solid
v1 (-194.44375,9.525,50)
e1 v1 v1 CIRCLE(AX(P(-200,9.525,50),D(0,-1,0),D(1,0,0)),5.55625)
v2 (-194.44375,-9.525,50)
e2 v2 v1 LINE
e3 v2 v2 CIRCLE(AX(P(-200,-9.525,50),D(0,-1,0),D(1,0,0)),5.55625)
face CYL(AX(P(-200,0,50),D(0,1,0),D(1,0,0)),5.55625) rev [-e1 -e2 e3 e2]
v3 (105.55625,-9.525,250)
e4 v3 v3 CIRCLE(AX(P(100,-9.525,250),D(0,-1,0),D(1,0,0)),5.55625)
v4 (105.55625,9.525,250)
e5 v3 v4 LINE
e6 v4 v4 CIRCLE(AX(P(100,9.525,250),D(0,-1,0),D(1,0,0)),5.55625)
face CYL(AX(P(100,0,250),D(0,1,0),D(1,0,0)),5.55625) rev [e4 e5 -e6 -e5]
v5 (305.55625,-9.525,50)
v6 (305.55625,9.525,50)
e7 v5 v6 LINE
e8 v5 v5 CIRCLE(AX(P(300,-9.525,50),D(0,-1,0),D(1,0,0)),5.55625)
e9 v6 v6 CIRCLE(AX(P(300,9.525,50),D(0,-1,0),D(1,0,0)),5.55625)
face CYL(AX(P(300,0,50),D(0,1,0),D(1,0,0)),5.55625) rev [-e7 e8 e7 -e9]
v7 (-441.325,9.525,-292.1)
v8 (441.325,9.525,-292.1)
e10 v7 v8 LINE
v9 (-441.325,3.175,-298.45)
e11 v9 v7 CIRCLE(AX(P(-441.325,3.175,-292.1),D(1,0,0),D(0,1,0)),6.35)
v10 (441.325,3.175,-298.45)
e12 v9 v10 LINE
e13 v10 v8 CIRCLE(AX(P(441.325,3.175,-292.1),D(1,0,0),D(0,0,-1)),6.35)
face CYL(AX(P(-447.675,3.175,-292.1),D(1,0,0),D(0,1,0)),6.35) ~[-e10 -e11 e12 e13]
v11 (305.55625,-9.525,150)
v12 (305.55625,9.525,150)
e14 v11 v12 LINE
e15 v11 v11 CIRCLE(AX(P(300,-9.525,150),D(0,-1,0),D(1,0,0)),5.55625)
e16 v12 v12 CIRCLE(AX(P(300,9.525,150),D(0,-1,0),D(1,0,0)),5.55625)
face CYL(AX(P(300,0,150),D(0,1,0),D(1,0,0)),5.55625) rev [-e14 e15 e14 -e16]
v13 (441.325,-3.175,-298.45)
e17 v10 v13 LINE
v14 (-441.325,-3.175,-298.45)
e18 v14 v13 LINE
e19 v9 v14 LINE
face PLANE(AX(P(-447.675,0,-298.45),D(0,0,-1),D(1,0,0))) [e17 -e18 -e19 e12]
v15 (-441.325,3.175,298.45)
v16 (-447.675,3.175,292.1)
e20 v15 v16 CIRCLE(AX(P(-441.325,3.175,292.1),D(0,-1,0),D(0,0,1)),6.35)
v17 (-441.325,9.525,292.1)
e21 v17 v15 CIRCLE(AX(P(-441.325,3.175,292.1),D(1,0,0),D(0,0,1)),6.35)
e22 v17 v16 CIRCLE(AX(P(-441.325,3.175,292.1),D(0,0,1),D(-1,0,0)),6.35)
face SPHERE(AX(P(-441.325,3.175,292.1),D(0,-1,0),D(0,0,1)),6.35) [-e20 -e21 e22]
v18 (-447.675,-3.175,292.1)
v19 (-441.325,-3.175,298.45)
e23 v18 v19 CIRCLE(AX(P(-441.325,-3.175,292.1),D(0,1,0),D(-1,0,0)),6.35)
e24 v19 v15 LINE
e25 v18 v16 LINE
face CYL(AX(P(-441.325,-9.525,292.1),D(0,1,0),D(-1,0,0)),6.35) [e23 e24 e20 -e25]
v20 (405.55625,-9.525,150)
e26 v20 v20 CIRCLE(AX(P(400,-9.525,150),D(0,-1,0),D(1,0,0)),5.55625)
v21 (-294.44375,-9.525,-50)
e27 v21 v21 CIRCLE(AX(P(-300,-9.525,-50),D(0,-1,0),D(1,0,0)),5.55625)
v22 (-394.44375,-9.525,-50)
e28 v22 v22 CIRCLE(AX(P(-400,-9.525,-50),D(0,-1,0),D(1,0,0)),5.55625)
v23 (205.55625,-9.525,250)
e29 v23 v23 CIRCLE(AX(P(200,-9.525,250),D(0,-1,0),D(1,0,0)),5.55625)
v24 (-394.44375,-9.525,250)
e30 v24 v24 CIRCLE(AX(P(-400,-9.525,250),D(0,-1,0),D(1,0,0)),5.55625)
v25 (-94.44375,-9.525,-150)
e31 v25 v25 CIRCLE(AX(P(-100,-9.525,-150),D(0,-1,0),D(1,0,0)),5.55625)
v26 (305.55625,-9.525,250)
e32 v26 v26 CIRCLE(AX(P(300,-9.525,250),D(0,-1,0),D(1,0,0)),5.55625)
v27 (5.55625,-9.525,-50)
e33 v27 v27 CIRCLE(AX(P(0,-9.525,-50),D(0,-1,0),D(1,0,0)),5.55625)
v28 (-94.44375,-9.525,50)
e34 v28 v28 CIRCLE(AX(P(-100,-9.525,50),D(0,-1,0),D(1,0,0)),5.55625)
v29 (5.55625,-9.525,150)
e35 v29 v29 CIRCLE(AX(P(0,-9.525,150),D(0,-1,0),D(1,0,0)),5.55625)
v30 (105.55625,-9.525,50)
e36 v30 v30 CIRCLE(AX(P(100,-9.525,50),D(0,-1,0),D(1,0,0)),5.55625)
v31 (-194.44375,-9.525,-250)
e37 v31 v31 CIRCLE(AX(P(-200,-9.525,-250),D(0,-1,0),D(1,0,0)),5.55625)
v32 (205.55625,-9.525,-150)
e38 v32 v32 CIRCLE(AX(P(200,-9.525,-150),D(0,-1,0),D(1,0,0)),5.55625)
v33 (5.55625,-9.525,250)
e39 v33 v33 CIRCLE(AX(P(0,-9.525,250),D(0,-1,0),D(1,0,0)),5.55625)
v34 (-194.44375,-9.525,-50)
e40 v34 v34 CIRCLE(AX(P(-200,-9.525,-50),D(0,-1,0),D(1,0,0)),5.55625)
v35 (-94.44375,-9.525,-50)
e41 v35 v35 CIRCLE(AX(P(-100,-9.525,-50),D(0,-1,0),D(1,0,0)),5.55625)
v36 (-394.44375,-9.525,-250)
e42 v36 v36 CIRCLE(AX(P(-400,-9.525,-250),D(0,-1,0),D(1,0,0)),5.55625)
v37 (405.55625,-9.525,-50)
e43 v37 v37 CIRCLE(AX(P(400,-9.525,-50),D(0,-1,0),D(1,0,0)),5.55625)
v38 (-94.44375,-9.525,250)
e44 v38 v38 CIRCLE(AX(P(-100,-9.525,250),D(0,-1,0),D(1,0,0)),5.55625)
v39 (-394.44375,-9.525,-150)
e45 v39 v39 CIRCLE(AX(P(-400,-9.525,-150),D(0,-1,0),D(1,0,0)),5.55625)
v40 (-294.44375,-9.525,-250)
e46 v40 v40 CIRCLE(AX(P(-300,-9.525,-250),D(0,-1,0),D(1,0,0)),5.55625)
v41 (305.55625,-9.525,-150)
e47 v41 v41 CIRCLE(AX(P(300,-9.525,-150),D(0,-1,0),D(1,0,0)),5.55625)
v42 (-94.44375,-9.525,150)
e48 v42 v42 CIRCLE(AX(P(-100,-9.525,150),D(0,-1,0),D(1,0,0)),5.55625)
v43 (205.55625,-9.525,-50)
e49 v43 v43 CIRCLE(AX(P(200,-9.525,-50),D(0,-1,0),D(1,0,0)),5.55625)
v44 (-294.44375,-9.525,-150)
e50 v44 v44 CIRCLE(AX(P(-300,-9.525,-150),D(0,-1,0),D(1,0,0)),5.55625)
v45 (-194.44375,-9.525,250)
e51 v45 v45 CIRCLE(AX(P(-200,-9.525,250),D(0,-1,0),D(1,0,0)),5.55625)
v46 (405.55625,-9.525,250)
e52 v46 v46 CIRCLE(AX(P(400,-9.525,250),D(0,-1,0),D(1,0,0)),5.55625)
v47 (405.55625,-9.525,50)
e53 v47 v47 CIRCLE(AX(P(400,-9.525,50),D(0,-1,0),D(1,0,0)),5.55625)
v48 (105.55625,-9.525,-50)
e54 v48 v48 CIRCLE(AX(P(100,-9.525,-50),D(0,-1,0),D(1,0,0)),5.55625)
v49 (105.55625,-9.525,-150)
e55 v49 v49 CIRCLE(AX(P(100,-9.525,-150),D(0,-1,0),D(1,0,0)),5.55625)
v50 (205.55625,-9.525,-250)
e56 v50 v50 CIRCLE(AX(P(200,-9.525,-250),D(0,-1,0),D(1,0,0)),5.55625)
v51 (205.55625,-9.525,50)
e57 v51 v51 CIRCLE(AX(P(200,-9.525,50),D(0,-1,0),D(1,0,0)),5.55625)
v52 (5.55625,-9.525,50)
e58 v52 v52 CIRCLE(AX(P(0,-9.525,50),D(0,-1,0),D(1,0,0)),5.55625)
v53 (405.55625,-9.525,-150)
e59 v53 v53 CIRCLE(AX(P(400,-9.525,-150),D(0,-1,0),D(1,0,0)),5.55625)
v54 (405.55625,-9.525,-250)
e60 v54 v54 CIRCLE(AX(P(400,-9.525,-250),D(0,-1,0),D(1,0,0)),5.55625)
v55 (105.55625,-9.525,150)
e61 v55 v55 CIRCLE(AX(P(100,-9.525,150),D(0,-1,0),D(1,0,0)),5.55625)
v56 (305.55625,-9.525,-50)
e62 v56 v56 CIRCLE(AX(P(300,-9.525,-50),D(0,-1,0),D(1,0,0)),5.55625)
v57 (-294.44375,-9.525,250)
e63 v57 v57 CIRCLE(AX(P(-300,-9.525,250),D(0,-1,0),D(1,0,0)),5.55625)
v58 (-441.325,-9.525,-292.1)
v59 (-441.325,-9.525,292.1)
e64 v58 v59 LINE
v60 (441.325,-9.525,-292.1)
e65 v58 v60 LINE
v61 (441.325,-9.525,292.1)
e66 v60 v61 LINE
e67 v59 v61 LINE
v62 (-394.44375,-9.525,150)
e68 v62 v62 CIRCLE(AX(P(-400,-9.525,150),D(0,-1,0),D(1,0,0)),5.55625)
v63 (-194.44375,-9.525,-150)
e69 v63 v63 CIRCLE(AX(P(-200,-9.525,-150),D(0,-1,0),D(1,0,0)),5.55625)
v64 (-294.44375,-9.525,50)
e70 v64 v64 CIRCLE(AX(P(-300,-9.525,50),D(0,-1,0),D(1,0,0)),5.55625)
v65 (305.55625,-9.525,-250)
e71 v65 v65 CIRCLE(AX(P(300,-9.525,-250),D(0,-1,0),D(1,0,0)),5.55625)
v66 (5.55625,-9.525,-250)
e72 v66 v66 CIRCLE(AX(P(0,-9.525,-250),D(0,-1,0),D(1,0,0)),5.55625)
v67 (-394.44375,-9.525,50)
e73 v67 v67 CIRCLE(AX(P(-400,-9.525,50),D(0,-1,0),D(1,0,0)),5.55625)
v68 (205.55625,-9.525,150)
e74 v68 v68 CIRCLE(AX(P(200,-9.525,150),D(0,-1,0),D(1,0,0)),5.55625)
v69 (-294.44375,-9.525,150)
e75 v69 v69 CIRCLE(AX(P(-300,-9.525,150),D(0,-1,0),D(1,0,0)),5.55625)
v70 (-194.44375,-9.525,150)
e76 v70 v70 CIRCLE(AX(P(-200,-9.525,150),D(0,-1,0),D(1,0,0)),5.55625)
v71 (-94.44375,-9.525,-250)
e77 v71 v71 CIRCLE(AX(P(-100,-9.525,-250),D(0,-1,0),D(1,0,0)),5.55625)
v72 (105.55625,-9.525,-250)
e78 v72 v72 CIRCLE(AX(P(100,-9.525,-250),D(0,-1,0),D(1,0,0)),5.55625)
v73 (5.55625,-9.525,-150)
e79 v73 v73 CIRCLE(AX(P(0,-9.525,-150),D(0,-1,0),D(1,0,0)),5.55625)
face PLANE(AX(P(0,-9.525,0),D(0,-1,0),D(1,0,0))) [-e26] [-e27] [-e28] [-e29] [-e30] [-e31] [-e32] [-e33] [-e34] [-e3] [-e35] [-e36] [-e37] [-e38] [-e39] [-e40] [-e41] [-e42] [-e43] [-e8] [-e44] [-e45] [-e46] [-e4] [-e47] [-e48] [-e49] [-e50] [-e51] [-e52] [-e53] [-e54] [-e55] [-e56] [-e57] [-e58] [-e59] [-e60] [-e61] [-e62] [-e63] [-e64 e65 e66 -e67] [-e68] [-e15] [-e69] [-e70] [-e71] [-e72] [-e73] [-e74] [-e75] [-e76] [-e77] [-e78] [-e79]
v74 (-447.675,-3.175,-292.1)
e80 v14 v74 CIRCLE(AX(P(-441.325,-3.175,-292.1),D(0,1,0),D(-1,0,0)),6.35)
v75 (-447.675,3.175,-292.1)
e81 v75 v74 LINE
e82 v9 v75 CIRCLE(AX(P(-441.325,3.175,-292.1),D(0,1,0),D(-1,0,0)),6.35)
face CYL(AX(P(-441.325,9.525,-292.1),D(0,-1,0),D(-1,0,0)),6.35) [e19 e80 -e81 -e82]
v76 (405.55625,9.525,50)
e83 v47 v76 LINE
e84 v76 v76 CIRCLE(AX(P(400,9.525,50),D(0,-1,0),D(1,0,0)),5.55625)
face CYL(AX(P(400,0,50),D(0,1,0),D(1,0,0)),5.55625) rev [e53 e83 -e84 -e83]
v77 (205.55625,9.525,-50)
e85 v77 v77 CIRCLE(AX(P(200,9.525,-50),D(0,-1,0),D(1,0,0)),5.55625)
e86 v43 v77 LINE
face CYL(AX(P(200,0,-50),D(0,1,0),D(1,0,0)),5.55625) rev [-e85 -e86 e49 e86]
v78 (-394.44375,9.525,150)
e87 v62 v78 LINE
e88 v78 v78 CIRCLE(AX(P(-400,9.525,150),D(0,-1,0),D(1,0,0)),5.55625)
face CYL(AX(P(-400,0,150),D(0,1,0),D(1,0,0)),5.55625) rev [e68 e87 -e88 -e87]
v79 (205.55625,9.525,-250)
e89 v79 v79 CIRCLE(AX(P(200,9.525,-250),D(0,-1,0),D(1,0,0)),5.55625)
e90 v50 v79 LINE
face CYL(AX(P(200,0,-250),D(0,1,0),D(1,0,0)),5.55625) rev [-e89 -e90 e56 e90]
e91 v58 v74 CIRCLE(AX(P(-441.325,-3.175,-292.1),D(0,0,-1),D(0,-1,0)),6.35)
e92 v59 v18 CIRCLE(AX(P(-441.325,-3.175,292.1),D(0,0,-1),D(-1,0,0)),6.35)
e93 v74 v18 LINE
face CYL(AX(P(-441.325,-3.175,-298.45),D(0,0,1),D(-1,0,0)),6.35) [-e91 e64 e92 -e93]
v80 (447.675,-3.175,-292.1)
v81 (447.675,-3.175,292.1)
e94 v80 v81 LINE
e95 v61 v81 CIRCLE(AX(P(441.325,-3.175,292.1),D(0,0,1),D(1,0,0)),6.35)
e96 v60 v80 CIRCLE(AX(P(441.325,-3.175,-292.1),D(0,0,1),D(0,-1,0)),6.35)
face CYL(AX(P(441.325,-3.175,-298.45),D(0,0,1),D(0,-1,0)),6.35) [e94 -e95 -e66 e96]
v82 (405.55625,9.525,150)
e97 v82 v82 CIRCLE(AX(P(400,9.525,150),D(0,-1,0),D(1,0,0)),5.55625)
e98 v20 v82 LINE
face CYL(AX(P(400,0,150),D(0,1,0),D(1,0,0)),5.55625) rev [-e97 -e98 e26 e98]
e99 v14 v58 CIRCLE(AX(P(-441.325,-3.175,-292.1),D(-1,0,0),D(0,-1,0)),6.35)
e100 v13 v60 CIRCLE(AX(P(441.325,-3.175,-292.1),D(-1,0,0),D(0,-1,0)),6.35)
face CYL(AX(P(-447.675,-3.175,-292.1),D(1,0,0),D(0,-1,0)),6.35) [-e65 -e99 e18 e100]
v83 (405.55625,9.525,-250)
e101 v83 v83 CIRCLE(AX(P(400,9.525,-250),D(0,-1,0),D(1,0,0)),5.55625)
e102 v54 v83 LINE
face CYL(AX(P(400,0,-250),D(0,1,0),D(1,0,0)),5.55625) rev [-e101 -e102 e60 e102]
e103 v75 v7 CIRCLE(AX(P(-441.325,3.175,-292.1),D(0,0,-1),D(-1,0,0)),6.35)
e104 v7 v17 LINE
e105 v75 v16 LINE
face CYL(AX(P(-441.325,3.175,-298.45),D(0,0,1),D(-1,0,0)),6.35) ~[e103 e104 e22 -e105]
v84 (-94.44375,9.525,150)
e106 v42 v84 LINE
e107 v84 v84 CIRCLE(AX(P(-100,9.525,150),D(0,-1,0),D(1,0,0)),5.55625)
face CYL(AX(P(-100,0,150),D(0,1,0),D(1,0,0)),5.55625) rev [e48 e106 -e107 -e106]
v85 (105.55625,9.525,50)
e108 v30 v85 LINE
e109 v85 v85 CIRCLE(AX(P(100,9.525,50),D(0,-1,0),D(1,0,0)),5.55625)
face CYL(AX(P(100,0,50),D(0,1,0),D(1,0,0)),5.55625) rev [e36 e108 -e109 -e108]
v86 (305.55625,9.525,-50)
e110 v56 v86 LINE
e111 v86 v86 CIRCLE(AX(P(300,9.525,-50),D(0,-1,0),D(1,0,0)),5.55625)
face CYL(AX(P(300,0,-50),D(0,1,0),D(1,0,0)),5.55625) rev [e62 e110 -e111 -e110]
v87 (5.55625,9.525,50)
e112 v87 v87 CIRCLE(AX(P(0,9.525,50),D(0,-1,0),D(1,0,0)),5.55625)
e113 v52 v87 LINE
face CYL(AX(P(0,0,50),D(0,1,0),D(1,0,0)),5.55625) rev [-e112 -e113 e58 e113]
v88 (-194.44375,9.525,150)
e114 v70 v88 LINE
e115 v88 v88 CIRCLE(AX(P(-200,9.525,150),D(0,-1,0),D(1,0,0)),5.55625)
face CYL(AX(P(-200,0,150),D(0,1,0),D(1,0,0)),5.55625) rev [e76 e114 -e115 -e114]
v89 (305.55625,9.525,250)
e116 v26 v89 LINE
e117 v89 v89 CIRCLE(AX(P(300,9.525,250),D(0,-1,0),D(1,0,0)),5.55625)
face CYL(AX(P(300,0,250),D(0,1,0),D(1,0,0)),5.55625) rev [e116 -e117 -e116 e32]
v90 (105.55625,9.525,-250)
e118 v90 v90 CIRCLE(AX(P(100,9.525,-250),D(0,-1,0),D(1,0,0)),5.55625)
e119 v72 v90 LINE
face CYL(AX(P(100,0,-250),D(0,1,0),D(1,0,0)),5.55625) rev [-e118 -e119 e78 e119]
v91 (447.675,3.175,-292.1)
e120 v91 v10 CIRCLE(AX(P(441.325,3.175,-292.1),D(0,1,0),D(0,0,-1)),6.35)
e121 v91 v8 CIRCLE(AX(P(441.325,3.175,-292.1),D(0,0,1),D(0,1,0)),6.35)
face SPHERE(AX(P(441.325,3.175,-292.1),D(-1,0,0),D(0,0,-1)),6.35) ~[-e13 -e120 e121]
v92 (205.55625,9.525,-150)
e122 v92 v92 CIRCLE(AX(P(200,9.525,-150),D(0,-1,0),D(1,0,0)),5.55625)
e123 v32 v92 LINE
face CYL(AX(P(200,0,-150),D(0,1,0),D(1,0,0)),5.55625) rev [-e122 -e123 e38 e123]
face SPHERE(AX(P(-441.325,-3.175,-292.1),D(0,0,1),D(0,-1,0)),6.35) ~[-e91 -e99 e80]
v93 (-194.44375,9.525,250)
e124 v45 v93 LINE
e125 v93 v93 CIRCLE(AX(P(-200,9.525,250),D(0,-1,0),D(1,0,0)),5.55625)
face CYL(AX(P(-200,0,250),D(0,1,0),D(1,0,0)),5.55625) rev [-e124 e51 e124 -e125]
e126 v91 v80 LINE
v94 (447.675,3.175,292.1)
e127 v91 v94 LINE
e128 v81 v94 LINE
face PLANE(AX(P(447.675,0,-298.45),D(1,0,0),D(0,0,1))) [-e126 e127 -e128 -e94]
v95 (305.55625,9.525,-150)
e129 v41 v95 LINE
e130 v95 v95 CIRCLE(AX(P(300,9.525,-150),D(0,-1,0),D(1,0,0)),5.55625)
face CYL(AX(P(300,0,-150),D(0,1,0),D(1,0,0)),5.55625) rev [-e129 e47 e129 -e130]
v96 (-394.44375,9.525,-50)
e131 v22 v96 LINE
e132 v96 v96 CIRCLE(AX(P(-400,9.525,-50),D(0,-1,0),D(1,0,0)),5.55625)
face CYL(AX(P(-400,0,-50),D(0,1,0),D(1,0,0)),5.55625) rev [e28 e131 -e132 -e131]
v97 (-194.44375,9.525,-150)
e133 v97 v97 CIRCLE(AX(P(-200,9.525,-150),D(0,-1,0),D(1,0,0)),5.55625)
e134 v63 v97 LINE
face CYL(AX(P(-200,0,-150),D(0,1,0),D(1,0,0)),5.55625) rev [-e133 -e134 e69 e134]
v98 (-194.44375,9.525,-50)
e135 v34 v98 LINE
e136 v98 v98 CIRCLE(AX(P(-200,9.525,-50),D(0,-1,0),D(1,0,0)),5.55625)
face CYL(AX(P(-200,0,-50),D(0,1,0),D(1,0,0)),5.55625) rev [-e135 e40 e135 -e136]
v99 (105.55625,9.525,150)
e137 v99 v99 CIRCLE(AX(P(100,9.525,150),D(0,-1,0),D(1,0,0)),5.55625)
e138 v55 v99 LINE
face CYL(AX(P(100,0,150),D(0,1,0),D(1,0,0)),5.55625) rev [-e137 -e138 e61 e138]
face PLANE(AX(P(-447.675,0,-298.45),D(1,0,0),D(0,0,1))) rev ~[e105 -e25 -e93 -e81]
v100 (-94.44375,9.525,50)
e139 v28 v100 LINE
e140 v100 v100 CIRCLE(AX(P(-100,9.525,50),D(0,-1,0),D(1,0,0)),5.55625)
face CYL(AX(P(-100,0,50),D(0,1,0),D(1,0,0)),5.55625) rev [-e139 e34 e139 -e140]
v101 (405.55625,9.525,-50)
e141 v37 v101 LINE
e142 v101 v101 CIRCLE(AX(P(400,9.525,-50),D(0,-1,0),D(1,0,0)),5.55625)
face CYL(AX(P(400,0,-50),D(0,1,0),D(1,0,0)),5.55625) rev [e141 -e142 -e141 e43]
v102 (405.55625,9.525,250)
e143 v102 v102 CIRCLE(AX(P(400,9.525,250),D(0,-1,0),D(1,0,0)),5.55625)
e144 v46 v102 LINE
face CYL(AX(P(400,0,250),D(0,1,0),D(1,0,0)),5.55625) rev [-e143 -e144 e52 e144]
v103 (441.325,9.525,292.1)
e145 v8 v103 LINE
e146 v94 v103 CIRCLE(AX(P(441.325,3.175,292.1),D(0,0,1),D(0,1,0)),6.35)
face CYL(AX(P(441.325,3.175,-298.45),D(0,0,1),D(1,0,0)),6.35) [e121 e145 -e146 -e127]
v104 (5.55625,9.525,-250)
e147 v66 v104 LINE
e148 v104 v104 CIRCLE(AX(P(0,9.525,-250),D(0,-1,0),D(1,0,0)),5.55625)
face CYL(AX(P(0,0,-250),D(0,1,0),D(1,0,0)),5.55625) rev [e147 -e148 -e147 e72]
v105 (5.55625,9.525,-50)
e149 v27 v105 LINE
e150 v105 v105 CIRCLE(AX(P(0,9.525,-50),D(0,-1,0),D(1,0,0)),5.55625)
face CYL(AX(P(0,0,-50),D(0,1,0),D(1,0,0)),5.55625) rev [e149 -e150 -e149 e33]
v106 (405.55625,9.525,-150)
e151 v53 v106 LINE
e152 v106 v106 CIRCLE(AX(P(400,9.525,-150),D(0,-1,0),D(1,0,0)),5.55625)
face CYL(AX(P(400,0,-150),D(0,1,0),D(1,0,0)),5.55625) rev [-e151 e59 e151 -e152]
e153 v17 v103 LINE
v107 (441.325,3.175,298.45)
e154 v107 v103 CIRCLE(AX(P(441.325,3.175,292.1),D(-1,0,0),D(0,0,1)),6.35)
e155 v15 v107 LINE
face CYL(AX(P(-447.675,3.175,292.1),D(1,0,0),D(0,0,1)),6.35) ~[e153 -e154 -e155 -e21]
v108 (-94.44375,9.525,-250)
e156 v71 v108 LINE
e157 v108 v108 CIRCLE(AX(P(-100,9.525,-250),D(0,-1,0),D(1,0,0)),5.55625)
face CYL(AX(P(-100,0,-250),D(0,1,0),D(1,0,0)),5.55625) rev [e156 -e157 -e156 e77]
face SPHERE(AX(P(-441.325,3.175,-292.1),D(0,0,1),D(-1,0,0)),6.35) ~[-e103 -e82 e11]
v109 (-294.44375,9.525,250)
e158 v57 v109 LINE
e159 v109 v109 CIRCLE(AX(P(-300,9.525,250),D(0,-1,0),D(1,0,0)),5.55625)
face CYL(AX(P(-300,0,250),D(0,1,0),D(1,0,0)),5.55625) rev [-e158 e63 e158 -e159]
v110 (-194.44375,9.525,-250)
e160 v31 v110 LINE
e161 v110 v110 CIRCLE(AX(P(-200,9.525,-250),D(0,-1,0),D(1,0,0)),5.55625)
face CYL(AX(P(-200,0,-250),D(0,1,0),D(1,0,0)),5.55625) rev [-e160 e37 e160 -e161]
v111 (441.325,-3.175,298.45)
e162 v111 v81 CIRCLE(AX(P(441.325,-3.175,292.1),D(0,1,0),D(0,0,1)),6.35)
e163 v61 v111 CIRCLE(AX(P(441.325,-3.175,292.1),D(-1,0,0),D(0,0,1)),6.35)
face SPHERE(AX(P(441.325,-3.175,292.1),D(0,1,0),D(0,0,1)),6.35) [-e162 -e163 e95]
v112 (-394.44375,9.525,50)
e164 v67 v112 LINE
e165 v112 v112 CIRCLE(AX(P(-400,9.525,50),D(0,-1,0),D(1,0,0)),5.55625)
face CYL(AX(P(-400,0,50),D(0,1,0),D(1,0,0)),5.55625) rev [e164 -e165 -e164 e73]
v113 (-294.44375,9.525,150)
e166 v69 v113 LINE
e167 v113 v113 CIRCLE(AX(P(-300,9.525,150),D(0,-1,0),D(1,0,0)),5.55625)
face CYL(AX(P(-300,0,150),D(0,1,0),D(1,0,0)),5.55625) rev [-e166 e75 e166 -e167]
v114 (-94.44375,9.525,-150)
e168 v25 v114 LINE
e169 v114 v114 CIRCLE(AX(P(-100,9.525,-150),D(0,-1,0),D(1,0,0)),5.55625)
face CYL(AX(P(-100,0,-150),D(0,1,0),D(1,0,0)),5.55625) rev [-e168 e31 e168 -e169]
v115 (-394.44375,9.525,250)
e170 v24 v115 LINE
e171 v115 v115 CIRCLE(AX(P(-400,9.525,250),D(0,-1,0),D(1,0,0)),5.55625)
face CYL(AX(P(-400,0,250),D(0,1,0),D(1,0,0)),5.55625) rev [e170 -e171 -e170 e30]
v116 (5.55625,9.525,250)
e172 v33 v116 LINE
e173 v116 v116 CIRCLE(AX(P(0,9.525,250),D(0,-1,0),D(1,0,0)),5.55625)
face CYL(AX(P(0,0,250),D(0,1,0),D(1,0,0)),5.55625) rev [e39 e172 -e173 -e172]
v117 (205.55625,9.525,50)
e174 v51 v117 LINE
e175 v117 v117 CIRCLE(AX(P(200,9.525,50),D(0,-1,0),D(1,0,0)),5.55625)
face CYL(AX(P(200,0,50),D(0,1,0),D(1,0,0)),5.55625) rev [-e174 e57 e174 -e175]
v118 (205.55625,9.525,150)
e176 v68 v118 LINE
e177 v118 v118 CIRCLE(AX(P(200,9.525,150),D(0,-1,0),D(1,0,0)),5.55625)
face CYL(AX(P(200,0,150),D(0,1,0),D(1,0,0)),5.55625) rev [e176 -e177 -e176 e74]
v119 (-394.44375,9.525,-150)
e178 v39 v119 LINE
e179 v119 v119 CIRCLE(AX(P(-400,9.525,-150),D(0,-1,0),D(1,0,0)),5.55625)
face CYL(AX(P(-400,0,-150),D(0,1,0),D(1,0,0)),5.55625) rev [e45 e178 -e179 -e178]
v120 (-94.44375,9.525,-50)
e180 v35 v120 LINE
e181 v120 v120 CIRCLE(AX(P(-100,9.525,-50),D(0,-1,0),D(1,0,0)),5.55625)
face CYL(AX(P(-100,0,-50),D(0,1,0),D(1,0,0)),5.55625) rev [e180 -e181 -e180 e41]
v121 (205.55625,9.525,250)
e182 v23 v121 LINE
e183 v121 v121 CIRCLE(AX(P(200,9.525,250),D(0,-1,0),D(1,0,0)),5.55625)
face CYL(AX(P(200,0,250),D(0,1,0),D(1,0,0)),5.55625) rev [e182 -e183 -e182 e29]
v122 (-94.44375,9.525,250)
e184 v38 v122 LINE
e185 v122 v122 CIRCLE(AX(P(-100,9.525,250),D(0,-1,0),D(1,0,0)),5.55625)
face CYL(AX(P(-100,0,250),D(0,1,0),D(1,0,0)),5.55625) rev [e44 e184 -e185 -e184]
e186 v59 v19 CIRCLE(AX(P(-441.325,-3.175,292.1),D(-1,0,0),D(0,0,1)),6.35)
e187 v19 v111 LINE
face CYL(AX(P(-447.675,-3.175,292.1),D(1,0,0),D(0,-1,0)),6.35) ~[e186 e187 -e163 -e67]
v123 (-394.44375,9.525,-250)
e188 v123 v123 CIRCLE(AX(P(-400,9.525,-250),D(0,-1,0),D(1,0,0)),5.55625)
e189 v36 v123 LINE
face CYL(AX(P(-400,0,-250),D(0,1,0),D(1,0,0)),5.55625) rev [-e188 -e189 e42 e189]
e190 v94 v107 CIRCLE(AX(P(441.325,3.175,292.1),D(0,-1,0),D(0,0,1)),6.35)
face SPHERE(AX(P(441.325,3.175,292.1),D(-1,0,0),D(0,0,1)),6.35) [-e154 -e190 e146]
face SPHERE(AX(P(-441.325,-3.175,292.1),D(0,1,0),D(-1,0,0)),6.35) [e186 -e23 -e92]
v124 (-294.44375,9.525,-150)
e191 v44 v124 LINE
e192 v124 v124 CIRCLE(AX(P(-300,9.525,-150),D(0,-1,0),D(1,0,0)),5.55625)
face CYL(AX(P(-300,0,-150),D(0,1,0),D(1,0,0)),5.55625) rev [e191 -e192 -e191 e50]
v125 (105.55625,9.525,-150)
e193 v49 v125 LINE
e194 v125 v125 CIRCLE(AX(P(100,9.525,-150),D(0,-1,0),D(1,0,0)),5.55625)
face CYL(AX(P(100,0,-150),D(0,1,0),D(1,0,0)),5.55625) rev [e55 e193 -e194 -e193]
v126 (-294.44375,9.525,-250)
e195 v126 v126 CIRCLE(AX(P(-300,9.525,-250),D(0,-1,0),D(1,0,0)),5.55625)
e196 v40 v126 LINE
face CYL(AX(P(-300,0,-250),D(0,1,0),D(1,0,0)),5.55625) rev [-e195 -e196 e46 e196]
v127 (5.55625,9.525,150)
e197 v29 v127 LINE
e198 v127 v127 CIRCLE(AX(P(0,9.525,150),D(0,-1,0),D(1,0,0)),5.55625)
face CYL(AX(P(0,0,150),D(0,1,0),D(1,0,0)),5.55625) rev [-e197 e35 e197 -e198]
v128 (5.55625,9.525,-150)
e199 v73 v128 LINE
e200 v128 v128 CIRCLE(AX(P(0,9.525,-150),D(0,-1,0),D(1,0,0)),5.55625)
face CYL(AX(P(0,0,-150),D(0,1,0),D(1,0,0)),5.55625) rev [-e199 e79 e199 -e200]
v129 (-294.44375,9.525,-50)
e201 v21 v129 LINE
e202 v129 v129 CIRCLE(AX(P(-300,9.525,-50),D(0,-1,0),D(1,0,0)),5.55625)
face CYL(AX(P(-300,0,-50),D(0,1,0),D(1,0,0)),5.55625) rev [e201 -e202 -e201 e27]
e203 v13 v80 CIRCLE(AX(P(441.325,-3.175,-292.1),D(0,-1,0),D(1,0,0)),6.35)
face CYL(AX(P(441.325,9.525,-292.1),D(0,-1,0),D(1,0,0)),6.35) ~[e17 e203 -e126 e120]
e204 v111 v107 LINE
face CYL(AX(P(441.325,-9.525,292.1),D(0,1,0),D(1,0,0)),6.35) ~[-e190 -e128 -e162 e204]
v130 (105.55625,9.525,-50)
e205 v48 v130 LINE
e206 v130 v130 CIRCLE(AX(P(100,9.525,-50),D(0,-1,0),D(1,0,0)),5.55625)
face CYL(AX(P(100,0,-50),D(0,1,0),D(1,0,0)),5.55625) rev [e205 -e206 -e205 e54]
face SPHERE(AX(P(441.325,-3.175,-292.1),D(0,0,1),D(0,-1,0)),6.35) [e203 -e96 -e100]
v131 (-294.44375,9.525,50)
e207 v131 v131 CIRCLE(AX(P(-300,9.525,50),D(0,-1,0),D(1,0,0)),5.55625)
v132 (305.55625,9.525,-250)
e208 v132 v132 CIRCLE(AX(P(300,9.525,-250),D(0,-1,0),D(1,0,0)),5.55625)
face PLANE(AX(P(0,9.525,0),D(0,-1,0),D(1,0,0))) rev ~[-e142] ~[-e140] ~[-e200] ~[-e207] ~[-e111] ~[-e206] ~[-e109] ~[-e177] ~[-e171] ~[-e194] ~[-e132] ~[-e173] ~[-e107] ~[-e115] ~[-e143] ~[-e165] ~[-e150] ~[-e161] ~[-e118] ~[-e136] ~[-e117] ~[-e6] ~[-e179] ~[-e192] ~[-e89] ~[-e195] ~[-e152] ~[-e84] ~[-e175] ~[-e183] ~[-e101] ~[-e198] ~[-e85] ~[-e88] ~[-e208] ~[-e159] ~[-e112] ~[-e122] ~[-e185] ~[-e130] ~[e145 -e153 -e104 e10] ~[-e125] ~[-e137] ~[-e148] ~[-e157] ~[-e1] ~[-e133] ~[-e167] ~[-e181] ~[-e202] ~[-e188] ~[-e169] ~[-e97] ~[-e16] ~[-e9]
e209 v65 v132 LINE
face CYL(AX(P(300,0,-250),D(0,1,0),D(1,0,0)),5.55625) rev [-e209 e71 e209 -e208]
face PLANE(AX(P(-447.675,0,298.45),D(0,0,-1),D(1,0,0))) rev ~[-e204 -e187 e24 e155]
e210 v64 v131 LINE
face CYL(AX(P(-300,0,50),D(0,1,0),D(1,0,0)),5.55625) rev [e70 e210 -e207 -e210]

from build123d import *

# Parameters (mm, degrees)
F0_W     = 895.35
F0_H     = 596.9
F0_R     = 5.55625
F1_DEPTH = 9.525
F2_R     = 6.35


with BuildPart() as f1:
    # F0 (on Front) → F1 (new body, symmetric)
    with BuildSketch(Plane.XZ):
        Rectangle(F0_W, F0_H)
        with Locations((-400, -250)):
            Circle(F0_R, mode=Mode.SUBTRACT)
        with Locations((-300, -250)):
            Circle(F0_R, mode=Mode.SUBTRACT)
        with Locations((-400, -150)):
            Circle(F0_R, mode=Mode.SUBTRACT)
        with Locations((-300, -150)):
            Circle(F0_R, mode=Mode.SUBTRACT)
        with Locations((-200, -250)):
            Circle(F0_R, mode=Mode.SUBTRACT)
        with Locations((-100, -250)):
            Circle(F0_R, mode=Mode.SUBTRACT)
        with Locations((-200, -150)):
            Circle(F0_R, mode=Mode.SUBTRACT)
        with Locations((-100, -150)):
            Circle(F0_R, mode=Mode.SUBTRACT)
        with Locations((-400, -50)):
            Circle(F0_R, mode=Mode.SUBTRACT)
        with Locations((-300, -50)):
            Circle(F0_R, mode=Mode.SUBTRACT)
        with Locations((-200, -50)):
            Circle(F0_R, mode=Mode.SUBTRACT)
        with Locations((-100, -50)):
            Circle(F0_R, mode=Mode.SUBTRACT)
        with Locations((0, -250)):
            Circle(F0_R, mode=Mode.SUBTRACT)
        with Locations((100, -250)):
            Circle(F0_R, mode=Mode.SUBTRACT)
        with Locations((200, -250)):
            Circle(F0_R, mode=Mode.SUBTRACT)
        with Locations((0, -150)):
            Circle(F0_R, mode=Mode.SUBTRACT)
        with Locations((100, -150)):
            Circle(F0_R, mode=Mode.SUBTRACT)
        with Locations((200, -150)):
            Circle(F0_R, mode=Mode.SUBTRACT)
        with Locations((300, -250)):
            Circle(F0_R, mode=Mode.SUBTRACT)
        with Locations((400, -250)):
            Circle(F0_R, mode=Mode.SUBTRACT)
        with Locations((300, -150)):
            Circle(F0_R, mode=Mode.SUBTRACT)
        with Locations((400, -150)):
            Circle(F0_R, mode=Mode.SUBTRACT)
        with Locations((0, -50)):
            Circle(F0_R, mode=Mode.SUBTRACT)
        with Locations((100, -50)):
            Circle(F0_R, mode=Mode.SUBTRACT)
        with Locations((200, -50)):
            Circle(F0_R, mode=Mode.SUBTRACT)
        with Locations((300, -50)):
            Circle(F0_R, mode=Mode.SUBTRACT)
        with Locations((400, -50)):
            Circle(F0_R, mode=Mode.SUBTRACT)
        with Locations((-400, 50)):
            Circle(F0_R, mode=Mode.SUBTRACT)
        with Locations((-300, 50)):
            Circle(F0_R, mode=Mode.SUBTRACT)
        with Locations((-200, 50)):
            Circle(F0_R, mode=Mode.SUBTRACT)
        with Locations((-100, 50)):
            Circle(F0_R, mode=Mode.SUBTRACT)
        with Locations((-400, 150)):
            Circle(F0_R, mode=Mode.SUBTRACT)
        with Locations((-300, 150)):
            Circle(F0_R, mode=Mode.SUBTRACT)
        with Locations((-400, 250)):
            Circle(F0_R, mode=Mode.SUBTRACT)
        with Locations((-300, 250)):
            Circle(F0_R, mode=Mode.SUBTRACT)
        with Locations((-200, 150)):
            Circle(F0_R, mode=Mode.SUBTRACT)
        with Locations((-100, 150)):
            Circle(F0_R, mode=Mode.SUBTRACT)
        with Locations((-200, 250)):
            Circle(F0_R, mode=Mode.SUBTRACT)
        with Locations((-100, 250)):
            Circle(F0_R, mode=Mode.SUBTRACT)
        with Locations((0, 50)):
            Circle(F0_R, mode=Mode.SUBTRACT)
        with Locations((100, 50)):
            Circle(F0_R, mode=Mode.SUBTRACT)
        with Locations((200, 50)):
            Circle(F0_R, mode=Mode.SUBTRACT)
        with Locations((300, 50)):
            Circle(F0_R, mode=Mode.SUBTRACT)
        with Locations((400, 50)):
            Circle(F0_R, mode=Mode.SUBTRACT)
        with Locations((0, 150)):
            Circle(F0_R, mode=Mode.SUBTRACT)
        with Locations((100, 150)):
            Circle(F0_R, mode=Mode.SUBTRACT)
        with Locations((200, 150)):
            Circle(F0_R, mode=Mode.SUBTRACT)
        with Locations((0, 250)):
            Circle(F0_R, mode=Mode.SUBTRACT)
        with Locations((100, 250)):
            Circle(F0_R, mode=Mode.SUBTRACT)
        with Locations((200, 250)):
            Circle(F0_R, mode=Mode.SUBTRACT)
        with Locations((300, 150)):
            Circle(F0_R, mode=Mode.SUBTRACT)
        with Locations((400, 150)):
            Circle(F0_R, mode=Mode.SUBTRACT)
        with Locations((300, 250)):
            Circle(F0_R, mode=Mode.SUBTRACT)
        with Locations((400, 250)):
            Circle(F0_R, mode=Mode.SUBTRACT)
    extrude(amount=F1_DEPTH, both=True)

    # F2
    f2_edges = [f1.edges().sort_by_distance(p)[0] for p in [
        (-447.675, 0, 298.45),
        (0, 9.525, 298.45),
        (-447.675, 9.525, 0),
        (-447.675, -9.525, 0),
        (447.675, 0, 298.45),
        (0, -9.525, 298.45),
        (447.675, -9.525, 0),
        (0, -9.525, -298.45),
        (-447.675, 0, -298.45),
        (0, 9.525, -298.45),
        (447.675, 0, -298.45),
        (447.675, 9.525, 0),
    ]]
    fillet(f2_edges, radius=F2_R)


solid = f1.part
